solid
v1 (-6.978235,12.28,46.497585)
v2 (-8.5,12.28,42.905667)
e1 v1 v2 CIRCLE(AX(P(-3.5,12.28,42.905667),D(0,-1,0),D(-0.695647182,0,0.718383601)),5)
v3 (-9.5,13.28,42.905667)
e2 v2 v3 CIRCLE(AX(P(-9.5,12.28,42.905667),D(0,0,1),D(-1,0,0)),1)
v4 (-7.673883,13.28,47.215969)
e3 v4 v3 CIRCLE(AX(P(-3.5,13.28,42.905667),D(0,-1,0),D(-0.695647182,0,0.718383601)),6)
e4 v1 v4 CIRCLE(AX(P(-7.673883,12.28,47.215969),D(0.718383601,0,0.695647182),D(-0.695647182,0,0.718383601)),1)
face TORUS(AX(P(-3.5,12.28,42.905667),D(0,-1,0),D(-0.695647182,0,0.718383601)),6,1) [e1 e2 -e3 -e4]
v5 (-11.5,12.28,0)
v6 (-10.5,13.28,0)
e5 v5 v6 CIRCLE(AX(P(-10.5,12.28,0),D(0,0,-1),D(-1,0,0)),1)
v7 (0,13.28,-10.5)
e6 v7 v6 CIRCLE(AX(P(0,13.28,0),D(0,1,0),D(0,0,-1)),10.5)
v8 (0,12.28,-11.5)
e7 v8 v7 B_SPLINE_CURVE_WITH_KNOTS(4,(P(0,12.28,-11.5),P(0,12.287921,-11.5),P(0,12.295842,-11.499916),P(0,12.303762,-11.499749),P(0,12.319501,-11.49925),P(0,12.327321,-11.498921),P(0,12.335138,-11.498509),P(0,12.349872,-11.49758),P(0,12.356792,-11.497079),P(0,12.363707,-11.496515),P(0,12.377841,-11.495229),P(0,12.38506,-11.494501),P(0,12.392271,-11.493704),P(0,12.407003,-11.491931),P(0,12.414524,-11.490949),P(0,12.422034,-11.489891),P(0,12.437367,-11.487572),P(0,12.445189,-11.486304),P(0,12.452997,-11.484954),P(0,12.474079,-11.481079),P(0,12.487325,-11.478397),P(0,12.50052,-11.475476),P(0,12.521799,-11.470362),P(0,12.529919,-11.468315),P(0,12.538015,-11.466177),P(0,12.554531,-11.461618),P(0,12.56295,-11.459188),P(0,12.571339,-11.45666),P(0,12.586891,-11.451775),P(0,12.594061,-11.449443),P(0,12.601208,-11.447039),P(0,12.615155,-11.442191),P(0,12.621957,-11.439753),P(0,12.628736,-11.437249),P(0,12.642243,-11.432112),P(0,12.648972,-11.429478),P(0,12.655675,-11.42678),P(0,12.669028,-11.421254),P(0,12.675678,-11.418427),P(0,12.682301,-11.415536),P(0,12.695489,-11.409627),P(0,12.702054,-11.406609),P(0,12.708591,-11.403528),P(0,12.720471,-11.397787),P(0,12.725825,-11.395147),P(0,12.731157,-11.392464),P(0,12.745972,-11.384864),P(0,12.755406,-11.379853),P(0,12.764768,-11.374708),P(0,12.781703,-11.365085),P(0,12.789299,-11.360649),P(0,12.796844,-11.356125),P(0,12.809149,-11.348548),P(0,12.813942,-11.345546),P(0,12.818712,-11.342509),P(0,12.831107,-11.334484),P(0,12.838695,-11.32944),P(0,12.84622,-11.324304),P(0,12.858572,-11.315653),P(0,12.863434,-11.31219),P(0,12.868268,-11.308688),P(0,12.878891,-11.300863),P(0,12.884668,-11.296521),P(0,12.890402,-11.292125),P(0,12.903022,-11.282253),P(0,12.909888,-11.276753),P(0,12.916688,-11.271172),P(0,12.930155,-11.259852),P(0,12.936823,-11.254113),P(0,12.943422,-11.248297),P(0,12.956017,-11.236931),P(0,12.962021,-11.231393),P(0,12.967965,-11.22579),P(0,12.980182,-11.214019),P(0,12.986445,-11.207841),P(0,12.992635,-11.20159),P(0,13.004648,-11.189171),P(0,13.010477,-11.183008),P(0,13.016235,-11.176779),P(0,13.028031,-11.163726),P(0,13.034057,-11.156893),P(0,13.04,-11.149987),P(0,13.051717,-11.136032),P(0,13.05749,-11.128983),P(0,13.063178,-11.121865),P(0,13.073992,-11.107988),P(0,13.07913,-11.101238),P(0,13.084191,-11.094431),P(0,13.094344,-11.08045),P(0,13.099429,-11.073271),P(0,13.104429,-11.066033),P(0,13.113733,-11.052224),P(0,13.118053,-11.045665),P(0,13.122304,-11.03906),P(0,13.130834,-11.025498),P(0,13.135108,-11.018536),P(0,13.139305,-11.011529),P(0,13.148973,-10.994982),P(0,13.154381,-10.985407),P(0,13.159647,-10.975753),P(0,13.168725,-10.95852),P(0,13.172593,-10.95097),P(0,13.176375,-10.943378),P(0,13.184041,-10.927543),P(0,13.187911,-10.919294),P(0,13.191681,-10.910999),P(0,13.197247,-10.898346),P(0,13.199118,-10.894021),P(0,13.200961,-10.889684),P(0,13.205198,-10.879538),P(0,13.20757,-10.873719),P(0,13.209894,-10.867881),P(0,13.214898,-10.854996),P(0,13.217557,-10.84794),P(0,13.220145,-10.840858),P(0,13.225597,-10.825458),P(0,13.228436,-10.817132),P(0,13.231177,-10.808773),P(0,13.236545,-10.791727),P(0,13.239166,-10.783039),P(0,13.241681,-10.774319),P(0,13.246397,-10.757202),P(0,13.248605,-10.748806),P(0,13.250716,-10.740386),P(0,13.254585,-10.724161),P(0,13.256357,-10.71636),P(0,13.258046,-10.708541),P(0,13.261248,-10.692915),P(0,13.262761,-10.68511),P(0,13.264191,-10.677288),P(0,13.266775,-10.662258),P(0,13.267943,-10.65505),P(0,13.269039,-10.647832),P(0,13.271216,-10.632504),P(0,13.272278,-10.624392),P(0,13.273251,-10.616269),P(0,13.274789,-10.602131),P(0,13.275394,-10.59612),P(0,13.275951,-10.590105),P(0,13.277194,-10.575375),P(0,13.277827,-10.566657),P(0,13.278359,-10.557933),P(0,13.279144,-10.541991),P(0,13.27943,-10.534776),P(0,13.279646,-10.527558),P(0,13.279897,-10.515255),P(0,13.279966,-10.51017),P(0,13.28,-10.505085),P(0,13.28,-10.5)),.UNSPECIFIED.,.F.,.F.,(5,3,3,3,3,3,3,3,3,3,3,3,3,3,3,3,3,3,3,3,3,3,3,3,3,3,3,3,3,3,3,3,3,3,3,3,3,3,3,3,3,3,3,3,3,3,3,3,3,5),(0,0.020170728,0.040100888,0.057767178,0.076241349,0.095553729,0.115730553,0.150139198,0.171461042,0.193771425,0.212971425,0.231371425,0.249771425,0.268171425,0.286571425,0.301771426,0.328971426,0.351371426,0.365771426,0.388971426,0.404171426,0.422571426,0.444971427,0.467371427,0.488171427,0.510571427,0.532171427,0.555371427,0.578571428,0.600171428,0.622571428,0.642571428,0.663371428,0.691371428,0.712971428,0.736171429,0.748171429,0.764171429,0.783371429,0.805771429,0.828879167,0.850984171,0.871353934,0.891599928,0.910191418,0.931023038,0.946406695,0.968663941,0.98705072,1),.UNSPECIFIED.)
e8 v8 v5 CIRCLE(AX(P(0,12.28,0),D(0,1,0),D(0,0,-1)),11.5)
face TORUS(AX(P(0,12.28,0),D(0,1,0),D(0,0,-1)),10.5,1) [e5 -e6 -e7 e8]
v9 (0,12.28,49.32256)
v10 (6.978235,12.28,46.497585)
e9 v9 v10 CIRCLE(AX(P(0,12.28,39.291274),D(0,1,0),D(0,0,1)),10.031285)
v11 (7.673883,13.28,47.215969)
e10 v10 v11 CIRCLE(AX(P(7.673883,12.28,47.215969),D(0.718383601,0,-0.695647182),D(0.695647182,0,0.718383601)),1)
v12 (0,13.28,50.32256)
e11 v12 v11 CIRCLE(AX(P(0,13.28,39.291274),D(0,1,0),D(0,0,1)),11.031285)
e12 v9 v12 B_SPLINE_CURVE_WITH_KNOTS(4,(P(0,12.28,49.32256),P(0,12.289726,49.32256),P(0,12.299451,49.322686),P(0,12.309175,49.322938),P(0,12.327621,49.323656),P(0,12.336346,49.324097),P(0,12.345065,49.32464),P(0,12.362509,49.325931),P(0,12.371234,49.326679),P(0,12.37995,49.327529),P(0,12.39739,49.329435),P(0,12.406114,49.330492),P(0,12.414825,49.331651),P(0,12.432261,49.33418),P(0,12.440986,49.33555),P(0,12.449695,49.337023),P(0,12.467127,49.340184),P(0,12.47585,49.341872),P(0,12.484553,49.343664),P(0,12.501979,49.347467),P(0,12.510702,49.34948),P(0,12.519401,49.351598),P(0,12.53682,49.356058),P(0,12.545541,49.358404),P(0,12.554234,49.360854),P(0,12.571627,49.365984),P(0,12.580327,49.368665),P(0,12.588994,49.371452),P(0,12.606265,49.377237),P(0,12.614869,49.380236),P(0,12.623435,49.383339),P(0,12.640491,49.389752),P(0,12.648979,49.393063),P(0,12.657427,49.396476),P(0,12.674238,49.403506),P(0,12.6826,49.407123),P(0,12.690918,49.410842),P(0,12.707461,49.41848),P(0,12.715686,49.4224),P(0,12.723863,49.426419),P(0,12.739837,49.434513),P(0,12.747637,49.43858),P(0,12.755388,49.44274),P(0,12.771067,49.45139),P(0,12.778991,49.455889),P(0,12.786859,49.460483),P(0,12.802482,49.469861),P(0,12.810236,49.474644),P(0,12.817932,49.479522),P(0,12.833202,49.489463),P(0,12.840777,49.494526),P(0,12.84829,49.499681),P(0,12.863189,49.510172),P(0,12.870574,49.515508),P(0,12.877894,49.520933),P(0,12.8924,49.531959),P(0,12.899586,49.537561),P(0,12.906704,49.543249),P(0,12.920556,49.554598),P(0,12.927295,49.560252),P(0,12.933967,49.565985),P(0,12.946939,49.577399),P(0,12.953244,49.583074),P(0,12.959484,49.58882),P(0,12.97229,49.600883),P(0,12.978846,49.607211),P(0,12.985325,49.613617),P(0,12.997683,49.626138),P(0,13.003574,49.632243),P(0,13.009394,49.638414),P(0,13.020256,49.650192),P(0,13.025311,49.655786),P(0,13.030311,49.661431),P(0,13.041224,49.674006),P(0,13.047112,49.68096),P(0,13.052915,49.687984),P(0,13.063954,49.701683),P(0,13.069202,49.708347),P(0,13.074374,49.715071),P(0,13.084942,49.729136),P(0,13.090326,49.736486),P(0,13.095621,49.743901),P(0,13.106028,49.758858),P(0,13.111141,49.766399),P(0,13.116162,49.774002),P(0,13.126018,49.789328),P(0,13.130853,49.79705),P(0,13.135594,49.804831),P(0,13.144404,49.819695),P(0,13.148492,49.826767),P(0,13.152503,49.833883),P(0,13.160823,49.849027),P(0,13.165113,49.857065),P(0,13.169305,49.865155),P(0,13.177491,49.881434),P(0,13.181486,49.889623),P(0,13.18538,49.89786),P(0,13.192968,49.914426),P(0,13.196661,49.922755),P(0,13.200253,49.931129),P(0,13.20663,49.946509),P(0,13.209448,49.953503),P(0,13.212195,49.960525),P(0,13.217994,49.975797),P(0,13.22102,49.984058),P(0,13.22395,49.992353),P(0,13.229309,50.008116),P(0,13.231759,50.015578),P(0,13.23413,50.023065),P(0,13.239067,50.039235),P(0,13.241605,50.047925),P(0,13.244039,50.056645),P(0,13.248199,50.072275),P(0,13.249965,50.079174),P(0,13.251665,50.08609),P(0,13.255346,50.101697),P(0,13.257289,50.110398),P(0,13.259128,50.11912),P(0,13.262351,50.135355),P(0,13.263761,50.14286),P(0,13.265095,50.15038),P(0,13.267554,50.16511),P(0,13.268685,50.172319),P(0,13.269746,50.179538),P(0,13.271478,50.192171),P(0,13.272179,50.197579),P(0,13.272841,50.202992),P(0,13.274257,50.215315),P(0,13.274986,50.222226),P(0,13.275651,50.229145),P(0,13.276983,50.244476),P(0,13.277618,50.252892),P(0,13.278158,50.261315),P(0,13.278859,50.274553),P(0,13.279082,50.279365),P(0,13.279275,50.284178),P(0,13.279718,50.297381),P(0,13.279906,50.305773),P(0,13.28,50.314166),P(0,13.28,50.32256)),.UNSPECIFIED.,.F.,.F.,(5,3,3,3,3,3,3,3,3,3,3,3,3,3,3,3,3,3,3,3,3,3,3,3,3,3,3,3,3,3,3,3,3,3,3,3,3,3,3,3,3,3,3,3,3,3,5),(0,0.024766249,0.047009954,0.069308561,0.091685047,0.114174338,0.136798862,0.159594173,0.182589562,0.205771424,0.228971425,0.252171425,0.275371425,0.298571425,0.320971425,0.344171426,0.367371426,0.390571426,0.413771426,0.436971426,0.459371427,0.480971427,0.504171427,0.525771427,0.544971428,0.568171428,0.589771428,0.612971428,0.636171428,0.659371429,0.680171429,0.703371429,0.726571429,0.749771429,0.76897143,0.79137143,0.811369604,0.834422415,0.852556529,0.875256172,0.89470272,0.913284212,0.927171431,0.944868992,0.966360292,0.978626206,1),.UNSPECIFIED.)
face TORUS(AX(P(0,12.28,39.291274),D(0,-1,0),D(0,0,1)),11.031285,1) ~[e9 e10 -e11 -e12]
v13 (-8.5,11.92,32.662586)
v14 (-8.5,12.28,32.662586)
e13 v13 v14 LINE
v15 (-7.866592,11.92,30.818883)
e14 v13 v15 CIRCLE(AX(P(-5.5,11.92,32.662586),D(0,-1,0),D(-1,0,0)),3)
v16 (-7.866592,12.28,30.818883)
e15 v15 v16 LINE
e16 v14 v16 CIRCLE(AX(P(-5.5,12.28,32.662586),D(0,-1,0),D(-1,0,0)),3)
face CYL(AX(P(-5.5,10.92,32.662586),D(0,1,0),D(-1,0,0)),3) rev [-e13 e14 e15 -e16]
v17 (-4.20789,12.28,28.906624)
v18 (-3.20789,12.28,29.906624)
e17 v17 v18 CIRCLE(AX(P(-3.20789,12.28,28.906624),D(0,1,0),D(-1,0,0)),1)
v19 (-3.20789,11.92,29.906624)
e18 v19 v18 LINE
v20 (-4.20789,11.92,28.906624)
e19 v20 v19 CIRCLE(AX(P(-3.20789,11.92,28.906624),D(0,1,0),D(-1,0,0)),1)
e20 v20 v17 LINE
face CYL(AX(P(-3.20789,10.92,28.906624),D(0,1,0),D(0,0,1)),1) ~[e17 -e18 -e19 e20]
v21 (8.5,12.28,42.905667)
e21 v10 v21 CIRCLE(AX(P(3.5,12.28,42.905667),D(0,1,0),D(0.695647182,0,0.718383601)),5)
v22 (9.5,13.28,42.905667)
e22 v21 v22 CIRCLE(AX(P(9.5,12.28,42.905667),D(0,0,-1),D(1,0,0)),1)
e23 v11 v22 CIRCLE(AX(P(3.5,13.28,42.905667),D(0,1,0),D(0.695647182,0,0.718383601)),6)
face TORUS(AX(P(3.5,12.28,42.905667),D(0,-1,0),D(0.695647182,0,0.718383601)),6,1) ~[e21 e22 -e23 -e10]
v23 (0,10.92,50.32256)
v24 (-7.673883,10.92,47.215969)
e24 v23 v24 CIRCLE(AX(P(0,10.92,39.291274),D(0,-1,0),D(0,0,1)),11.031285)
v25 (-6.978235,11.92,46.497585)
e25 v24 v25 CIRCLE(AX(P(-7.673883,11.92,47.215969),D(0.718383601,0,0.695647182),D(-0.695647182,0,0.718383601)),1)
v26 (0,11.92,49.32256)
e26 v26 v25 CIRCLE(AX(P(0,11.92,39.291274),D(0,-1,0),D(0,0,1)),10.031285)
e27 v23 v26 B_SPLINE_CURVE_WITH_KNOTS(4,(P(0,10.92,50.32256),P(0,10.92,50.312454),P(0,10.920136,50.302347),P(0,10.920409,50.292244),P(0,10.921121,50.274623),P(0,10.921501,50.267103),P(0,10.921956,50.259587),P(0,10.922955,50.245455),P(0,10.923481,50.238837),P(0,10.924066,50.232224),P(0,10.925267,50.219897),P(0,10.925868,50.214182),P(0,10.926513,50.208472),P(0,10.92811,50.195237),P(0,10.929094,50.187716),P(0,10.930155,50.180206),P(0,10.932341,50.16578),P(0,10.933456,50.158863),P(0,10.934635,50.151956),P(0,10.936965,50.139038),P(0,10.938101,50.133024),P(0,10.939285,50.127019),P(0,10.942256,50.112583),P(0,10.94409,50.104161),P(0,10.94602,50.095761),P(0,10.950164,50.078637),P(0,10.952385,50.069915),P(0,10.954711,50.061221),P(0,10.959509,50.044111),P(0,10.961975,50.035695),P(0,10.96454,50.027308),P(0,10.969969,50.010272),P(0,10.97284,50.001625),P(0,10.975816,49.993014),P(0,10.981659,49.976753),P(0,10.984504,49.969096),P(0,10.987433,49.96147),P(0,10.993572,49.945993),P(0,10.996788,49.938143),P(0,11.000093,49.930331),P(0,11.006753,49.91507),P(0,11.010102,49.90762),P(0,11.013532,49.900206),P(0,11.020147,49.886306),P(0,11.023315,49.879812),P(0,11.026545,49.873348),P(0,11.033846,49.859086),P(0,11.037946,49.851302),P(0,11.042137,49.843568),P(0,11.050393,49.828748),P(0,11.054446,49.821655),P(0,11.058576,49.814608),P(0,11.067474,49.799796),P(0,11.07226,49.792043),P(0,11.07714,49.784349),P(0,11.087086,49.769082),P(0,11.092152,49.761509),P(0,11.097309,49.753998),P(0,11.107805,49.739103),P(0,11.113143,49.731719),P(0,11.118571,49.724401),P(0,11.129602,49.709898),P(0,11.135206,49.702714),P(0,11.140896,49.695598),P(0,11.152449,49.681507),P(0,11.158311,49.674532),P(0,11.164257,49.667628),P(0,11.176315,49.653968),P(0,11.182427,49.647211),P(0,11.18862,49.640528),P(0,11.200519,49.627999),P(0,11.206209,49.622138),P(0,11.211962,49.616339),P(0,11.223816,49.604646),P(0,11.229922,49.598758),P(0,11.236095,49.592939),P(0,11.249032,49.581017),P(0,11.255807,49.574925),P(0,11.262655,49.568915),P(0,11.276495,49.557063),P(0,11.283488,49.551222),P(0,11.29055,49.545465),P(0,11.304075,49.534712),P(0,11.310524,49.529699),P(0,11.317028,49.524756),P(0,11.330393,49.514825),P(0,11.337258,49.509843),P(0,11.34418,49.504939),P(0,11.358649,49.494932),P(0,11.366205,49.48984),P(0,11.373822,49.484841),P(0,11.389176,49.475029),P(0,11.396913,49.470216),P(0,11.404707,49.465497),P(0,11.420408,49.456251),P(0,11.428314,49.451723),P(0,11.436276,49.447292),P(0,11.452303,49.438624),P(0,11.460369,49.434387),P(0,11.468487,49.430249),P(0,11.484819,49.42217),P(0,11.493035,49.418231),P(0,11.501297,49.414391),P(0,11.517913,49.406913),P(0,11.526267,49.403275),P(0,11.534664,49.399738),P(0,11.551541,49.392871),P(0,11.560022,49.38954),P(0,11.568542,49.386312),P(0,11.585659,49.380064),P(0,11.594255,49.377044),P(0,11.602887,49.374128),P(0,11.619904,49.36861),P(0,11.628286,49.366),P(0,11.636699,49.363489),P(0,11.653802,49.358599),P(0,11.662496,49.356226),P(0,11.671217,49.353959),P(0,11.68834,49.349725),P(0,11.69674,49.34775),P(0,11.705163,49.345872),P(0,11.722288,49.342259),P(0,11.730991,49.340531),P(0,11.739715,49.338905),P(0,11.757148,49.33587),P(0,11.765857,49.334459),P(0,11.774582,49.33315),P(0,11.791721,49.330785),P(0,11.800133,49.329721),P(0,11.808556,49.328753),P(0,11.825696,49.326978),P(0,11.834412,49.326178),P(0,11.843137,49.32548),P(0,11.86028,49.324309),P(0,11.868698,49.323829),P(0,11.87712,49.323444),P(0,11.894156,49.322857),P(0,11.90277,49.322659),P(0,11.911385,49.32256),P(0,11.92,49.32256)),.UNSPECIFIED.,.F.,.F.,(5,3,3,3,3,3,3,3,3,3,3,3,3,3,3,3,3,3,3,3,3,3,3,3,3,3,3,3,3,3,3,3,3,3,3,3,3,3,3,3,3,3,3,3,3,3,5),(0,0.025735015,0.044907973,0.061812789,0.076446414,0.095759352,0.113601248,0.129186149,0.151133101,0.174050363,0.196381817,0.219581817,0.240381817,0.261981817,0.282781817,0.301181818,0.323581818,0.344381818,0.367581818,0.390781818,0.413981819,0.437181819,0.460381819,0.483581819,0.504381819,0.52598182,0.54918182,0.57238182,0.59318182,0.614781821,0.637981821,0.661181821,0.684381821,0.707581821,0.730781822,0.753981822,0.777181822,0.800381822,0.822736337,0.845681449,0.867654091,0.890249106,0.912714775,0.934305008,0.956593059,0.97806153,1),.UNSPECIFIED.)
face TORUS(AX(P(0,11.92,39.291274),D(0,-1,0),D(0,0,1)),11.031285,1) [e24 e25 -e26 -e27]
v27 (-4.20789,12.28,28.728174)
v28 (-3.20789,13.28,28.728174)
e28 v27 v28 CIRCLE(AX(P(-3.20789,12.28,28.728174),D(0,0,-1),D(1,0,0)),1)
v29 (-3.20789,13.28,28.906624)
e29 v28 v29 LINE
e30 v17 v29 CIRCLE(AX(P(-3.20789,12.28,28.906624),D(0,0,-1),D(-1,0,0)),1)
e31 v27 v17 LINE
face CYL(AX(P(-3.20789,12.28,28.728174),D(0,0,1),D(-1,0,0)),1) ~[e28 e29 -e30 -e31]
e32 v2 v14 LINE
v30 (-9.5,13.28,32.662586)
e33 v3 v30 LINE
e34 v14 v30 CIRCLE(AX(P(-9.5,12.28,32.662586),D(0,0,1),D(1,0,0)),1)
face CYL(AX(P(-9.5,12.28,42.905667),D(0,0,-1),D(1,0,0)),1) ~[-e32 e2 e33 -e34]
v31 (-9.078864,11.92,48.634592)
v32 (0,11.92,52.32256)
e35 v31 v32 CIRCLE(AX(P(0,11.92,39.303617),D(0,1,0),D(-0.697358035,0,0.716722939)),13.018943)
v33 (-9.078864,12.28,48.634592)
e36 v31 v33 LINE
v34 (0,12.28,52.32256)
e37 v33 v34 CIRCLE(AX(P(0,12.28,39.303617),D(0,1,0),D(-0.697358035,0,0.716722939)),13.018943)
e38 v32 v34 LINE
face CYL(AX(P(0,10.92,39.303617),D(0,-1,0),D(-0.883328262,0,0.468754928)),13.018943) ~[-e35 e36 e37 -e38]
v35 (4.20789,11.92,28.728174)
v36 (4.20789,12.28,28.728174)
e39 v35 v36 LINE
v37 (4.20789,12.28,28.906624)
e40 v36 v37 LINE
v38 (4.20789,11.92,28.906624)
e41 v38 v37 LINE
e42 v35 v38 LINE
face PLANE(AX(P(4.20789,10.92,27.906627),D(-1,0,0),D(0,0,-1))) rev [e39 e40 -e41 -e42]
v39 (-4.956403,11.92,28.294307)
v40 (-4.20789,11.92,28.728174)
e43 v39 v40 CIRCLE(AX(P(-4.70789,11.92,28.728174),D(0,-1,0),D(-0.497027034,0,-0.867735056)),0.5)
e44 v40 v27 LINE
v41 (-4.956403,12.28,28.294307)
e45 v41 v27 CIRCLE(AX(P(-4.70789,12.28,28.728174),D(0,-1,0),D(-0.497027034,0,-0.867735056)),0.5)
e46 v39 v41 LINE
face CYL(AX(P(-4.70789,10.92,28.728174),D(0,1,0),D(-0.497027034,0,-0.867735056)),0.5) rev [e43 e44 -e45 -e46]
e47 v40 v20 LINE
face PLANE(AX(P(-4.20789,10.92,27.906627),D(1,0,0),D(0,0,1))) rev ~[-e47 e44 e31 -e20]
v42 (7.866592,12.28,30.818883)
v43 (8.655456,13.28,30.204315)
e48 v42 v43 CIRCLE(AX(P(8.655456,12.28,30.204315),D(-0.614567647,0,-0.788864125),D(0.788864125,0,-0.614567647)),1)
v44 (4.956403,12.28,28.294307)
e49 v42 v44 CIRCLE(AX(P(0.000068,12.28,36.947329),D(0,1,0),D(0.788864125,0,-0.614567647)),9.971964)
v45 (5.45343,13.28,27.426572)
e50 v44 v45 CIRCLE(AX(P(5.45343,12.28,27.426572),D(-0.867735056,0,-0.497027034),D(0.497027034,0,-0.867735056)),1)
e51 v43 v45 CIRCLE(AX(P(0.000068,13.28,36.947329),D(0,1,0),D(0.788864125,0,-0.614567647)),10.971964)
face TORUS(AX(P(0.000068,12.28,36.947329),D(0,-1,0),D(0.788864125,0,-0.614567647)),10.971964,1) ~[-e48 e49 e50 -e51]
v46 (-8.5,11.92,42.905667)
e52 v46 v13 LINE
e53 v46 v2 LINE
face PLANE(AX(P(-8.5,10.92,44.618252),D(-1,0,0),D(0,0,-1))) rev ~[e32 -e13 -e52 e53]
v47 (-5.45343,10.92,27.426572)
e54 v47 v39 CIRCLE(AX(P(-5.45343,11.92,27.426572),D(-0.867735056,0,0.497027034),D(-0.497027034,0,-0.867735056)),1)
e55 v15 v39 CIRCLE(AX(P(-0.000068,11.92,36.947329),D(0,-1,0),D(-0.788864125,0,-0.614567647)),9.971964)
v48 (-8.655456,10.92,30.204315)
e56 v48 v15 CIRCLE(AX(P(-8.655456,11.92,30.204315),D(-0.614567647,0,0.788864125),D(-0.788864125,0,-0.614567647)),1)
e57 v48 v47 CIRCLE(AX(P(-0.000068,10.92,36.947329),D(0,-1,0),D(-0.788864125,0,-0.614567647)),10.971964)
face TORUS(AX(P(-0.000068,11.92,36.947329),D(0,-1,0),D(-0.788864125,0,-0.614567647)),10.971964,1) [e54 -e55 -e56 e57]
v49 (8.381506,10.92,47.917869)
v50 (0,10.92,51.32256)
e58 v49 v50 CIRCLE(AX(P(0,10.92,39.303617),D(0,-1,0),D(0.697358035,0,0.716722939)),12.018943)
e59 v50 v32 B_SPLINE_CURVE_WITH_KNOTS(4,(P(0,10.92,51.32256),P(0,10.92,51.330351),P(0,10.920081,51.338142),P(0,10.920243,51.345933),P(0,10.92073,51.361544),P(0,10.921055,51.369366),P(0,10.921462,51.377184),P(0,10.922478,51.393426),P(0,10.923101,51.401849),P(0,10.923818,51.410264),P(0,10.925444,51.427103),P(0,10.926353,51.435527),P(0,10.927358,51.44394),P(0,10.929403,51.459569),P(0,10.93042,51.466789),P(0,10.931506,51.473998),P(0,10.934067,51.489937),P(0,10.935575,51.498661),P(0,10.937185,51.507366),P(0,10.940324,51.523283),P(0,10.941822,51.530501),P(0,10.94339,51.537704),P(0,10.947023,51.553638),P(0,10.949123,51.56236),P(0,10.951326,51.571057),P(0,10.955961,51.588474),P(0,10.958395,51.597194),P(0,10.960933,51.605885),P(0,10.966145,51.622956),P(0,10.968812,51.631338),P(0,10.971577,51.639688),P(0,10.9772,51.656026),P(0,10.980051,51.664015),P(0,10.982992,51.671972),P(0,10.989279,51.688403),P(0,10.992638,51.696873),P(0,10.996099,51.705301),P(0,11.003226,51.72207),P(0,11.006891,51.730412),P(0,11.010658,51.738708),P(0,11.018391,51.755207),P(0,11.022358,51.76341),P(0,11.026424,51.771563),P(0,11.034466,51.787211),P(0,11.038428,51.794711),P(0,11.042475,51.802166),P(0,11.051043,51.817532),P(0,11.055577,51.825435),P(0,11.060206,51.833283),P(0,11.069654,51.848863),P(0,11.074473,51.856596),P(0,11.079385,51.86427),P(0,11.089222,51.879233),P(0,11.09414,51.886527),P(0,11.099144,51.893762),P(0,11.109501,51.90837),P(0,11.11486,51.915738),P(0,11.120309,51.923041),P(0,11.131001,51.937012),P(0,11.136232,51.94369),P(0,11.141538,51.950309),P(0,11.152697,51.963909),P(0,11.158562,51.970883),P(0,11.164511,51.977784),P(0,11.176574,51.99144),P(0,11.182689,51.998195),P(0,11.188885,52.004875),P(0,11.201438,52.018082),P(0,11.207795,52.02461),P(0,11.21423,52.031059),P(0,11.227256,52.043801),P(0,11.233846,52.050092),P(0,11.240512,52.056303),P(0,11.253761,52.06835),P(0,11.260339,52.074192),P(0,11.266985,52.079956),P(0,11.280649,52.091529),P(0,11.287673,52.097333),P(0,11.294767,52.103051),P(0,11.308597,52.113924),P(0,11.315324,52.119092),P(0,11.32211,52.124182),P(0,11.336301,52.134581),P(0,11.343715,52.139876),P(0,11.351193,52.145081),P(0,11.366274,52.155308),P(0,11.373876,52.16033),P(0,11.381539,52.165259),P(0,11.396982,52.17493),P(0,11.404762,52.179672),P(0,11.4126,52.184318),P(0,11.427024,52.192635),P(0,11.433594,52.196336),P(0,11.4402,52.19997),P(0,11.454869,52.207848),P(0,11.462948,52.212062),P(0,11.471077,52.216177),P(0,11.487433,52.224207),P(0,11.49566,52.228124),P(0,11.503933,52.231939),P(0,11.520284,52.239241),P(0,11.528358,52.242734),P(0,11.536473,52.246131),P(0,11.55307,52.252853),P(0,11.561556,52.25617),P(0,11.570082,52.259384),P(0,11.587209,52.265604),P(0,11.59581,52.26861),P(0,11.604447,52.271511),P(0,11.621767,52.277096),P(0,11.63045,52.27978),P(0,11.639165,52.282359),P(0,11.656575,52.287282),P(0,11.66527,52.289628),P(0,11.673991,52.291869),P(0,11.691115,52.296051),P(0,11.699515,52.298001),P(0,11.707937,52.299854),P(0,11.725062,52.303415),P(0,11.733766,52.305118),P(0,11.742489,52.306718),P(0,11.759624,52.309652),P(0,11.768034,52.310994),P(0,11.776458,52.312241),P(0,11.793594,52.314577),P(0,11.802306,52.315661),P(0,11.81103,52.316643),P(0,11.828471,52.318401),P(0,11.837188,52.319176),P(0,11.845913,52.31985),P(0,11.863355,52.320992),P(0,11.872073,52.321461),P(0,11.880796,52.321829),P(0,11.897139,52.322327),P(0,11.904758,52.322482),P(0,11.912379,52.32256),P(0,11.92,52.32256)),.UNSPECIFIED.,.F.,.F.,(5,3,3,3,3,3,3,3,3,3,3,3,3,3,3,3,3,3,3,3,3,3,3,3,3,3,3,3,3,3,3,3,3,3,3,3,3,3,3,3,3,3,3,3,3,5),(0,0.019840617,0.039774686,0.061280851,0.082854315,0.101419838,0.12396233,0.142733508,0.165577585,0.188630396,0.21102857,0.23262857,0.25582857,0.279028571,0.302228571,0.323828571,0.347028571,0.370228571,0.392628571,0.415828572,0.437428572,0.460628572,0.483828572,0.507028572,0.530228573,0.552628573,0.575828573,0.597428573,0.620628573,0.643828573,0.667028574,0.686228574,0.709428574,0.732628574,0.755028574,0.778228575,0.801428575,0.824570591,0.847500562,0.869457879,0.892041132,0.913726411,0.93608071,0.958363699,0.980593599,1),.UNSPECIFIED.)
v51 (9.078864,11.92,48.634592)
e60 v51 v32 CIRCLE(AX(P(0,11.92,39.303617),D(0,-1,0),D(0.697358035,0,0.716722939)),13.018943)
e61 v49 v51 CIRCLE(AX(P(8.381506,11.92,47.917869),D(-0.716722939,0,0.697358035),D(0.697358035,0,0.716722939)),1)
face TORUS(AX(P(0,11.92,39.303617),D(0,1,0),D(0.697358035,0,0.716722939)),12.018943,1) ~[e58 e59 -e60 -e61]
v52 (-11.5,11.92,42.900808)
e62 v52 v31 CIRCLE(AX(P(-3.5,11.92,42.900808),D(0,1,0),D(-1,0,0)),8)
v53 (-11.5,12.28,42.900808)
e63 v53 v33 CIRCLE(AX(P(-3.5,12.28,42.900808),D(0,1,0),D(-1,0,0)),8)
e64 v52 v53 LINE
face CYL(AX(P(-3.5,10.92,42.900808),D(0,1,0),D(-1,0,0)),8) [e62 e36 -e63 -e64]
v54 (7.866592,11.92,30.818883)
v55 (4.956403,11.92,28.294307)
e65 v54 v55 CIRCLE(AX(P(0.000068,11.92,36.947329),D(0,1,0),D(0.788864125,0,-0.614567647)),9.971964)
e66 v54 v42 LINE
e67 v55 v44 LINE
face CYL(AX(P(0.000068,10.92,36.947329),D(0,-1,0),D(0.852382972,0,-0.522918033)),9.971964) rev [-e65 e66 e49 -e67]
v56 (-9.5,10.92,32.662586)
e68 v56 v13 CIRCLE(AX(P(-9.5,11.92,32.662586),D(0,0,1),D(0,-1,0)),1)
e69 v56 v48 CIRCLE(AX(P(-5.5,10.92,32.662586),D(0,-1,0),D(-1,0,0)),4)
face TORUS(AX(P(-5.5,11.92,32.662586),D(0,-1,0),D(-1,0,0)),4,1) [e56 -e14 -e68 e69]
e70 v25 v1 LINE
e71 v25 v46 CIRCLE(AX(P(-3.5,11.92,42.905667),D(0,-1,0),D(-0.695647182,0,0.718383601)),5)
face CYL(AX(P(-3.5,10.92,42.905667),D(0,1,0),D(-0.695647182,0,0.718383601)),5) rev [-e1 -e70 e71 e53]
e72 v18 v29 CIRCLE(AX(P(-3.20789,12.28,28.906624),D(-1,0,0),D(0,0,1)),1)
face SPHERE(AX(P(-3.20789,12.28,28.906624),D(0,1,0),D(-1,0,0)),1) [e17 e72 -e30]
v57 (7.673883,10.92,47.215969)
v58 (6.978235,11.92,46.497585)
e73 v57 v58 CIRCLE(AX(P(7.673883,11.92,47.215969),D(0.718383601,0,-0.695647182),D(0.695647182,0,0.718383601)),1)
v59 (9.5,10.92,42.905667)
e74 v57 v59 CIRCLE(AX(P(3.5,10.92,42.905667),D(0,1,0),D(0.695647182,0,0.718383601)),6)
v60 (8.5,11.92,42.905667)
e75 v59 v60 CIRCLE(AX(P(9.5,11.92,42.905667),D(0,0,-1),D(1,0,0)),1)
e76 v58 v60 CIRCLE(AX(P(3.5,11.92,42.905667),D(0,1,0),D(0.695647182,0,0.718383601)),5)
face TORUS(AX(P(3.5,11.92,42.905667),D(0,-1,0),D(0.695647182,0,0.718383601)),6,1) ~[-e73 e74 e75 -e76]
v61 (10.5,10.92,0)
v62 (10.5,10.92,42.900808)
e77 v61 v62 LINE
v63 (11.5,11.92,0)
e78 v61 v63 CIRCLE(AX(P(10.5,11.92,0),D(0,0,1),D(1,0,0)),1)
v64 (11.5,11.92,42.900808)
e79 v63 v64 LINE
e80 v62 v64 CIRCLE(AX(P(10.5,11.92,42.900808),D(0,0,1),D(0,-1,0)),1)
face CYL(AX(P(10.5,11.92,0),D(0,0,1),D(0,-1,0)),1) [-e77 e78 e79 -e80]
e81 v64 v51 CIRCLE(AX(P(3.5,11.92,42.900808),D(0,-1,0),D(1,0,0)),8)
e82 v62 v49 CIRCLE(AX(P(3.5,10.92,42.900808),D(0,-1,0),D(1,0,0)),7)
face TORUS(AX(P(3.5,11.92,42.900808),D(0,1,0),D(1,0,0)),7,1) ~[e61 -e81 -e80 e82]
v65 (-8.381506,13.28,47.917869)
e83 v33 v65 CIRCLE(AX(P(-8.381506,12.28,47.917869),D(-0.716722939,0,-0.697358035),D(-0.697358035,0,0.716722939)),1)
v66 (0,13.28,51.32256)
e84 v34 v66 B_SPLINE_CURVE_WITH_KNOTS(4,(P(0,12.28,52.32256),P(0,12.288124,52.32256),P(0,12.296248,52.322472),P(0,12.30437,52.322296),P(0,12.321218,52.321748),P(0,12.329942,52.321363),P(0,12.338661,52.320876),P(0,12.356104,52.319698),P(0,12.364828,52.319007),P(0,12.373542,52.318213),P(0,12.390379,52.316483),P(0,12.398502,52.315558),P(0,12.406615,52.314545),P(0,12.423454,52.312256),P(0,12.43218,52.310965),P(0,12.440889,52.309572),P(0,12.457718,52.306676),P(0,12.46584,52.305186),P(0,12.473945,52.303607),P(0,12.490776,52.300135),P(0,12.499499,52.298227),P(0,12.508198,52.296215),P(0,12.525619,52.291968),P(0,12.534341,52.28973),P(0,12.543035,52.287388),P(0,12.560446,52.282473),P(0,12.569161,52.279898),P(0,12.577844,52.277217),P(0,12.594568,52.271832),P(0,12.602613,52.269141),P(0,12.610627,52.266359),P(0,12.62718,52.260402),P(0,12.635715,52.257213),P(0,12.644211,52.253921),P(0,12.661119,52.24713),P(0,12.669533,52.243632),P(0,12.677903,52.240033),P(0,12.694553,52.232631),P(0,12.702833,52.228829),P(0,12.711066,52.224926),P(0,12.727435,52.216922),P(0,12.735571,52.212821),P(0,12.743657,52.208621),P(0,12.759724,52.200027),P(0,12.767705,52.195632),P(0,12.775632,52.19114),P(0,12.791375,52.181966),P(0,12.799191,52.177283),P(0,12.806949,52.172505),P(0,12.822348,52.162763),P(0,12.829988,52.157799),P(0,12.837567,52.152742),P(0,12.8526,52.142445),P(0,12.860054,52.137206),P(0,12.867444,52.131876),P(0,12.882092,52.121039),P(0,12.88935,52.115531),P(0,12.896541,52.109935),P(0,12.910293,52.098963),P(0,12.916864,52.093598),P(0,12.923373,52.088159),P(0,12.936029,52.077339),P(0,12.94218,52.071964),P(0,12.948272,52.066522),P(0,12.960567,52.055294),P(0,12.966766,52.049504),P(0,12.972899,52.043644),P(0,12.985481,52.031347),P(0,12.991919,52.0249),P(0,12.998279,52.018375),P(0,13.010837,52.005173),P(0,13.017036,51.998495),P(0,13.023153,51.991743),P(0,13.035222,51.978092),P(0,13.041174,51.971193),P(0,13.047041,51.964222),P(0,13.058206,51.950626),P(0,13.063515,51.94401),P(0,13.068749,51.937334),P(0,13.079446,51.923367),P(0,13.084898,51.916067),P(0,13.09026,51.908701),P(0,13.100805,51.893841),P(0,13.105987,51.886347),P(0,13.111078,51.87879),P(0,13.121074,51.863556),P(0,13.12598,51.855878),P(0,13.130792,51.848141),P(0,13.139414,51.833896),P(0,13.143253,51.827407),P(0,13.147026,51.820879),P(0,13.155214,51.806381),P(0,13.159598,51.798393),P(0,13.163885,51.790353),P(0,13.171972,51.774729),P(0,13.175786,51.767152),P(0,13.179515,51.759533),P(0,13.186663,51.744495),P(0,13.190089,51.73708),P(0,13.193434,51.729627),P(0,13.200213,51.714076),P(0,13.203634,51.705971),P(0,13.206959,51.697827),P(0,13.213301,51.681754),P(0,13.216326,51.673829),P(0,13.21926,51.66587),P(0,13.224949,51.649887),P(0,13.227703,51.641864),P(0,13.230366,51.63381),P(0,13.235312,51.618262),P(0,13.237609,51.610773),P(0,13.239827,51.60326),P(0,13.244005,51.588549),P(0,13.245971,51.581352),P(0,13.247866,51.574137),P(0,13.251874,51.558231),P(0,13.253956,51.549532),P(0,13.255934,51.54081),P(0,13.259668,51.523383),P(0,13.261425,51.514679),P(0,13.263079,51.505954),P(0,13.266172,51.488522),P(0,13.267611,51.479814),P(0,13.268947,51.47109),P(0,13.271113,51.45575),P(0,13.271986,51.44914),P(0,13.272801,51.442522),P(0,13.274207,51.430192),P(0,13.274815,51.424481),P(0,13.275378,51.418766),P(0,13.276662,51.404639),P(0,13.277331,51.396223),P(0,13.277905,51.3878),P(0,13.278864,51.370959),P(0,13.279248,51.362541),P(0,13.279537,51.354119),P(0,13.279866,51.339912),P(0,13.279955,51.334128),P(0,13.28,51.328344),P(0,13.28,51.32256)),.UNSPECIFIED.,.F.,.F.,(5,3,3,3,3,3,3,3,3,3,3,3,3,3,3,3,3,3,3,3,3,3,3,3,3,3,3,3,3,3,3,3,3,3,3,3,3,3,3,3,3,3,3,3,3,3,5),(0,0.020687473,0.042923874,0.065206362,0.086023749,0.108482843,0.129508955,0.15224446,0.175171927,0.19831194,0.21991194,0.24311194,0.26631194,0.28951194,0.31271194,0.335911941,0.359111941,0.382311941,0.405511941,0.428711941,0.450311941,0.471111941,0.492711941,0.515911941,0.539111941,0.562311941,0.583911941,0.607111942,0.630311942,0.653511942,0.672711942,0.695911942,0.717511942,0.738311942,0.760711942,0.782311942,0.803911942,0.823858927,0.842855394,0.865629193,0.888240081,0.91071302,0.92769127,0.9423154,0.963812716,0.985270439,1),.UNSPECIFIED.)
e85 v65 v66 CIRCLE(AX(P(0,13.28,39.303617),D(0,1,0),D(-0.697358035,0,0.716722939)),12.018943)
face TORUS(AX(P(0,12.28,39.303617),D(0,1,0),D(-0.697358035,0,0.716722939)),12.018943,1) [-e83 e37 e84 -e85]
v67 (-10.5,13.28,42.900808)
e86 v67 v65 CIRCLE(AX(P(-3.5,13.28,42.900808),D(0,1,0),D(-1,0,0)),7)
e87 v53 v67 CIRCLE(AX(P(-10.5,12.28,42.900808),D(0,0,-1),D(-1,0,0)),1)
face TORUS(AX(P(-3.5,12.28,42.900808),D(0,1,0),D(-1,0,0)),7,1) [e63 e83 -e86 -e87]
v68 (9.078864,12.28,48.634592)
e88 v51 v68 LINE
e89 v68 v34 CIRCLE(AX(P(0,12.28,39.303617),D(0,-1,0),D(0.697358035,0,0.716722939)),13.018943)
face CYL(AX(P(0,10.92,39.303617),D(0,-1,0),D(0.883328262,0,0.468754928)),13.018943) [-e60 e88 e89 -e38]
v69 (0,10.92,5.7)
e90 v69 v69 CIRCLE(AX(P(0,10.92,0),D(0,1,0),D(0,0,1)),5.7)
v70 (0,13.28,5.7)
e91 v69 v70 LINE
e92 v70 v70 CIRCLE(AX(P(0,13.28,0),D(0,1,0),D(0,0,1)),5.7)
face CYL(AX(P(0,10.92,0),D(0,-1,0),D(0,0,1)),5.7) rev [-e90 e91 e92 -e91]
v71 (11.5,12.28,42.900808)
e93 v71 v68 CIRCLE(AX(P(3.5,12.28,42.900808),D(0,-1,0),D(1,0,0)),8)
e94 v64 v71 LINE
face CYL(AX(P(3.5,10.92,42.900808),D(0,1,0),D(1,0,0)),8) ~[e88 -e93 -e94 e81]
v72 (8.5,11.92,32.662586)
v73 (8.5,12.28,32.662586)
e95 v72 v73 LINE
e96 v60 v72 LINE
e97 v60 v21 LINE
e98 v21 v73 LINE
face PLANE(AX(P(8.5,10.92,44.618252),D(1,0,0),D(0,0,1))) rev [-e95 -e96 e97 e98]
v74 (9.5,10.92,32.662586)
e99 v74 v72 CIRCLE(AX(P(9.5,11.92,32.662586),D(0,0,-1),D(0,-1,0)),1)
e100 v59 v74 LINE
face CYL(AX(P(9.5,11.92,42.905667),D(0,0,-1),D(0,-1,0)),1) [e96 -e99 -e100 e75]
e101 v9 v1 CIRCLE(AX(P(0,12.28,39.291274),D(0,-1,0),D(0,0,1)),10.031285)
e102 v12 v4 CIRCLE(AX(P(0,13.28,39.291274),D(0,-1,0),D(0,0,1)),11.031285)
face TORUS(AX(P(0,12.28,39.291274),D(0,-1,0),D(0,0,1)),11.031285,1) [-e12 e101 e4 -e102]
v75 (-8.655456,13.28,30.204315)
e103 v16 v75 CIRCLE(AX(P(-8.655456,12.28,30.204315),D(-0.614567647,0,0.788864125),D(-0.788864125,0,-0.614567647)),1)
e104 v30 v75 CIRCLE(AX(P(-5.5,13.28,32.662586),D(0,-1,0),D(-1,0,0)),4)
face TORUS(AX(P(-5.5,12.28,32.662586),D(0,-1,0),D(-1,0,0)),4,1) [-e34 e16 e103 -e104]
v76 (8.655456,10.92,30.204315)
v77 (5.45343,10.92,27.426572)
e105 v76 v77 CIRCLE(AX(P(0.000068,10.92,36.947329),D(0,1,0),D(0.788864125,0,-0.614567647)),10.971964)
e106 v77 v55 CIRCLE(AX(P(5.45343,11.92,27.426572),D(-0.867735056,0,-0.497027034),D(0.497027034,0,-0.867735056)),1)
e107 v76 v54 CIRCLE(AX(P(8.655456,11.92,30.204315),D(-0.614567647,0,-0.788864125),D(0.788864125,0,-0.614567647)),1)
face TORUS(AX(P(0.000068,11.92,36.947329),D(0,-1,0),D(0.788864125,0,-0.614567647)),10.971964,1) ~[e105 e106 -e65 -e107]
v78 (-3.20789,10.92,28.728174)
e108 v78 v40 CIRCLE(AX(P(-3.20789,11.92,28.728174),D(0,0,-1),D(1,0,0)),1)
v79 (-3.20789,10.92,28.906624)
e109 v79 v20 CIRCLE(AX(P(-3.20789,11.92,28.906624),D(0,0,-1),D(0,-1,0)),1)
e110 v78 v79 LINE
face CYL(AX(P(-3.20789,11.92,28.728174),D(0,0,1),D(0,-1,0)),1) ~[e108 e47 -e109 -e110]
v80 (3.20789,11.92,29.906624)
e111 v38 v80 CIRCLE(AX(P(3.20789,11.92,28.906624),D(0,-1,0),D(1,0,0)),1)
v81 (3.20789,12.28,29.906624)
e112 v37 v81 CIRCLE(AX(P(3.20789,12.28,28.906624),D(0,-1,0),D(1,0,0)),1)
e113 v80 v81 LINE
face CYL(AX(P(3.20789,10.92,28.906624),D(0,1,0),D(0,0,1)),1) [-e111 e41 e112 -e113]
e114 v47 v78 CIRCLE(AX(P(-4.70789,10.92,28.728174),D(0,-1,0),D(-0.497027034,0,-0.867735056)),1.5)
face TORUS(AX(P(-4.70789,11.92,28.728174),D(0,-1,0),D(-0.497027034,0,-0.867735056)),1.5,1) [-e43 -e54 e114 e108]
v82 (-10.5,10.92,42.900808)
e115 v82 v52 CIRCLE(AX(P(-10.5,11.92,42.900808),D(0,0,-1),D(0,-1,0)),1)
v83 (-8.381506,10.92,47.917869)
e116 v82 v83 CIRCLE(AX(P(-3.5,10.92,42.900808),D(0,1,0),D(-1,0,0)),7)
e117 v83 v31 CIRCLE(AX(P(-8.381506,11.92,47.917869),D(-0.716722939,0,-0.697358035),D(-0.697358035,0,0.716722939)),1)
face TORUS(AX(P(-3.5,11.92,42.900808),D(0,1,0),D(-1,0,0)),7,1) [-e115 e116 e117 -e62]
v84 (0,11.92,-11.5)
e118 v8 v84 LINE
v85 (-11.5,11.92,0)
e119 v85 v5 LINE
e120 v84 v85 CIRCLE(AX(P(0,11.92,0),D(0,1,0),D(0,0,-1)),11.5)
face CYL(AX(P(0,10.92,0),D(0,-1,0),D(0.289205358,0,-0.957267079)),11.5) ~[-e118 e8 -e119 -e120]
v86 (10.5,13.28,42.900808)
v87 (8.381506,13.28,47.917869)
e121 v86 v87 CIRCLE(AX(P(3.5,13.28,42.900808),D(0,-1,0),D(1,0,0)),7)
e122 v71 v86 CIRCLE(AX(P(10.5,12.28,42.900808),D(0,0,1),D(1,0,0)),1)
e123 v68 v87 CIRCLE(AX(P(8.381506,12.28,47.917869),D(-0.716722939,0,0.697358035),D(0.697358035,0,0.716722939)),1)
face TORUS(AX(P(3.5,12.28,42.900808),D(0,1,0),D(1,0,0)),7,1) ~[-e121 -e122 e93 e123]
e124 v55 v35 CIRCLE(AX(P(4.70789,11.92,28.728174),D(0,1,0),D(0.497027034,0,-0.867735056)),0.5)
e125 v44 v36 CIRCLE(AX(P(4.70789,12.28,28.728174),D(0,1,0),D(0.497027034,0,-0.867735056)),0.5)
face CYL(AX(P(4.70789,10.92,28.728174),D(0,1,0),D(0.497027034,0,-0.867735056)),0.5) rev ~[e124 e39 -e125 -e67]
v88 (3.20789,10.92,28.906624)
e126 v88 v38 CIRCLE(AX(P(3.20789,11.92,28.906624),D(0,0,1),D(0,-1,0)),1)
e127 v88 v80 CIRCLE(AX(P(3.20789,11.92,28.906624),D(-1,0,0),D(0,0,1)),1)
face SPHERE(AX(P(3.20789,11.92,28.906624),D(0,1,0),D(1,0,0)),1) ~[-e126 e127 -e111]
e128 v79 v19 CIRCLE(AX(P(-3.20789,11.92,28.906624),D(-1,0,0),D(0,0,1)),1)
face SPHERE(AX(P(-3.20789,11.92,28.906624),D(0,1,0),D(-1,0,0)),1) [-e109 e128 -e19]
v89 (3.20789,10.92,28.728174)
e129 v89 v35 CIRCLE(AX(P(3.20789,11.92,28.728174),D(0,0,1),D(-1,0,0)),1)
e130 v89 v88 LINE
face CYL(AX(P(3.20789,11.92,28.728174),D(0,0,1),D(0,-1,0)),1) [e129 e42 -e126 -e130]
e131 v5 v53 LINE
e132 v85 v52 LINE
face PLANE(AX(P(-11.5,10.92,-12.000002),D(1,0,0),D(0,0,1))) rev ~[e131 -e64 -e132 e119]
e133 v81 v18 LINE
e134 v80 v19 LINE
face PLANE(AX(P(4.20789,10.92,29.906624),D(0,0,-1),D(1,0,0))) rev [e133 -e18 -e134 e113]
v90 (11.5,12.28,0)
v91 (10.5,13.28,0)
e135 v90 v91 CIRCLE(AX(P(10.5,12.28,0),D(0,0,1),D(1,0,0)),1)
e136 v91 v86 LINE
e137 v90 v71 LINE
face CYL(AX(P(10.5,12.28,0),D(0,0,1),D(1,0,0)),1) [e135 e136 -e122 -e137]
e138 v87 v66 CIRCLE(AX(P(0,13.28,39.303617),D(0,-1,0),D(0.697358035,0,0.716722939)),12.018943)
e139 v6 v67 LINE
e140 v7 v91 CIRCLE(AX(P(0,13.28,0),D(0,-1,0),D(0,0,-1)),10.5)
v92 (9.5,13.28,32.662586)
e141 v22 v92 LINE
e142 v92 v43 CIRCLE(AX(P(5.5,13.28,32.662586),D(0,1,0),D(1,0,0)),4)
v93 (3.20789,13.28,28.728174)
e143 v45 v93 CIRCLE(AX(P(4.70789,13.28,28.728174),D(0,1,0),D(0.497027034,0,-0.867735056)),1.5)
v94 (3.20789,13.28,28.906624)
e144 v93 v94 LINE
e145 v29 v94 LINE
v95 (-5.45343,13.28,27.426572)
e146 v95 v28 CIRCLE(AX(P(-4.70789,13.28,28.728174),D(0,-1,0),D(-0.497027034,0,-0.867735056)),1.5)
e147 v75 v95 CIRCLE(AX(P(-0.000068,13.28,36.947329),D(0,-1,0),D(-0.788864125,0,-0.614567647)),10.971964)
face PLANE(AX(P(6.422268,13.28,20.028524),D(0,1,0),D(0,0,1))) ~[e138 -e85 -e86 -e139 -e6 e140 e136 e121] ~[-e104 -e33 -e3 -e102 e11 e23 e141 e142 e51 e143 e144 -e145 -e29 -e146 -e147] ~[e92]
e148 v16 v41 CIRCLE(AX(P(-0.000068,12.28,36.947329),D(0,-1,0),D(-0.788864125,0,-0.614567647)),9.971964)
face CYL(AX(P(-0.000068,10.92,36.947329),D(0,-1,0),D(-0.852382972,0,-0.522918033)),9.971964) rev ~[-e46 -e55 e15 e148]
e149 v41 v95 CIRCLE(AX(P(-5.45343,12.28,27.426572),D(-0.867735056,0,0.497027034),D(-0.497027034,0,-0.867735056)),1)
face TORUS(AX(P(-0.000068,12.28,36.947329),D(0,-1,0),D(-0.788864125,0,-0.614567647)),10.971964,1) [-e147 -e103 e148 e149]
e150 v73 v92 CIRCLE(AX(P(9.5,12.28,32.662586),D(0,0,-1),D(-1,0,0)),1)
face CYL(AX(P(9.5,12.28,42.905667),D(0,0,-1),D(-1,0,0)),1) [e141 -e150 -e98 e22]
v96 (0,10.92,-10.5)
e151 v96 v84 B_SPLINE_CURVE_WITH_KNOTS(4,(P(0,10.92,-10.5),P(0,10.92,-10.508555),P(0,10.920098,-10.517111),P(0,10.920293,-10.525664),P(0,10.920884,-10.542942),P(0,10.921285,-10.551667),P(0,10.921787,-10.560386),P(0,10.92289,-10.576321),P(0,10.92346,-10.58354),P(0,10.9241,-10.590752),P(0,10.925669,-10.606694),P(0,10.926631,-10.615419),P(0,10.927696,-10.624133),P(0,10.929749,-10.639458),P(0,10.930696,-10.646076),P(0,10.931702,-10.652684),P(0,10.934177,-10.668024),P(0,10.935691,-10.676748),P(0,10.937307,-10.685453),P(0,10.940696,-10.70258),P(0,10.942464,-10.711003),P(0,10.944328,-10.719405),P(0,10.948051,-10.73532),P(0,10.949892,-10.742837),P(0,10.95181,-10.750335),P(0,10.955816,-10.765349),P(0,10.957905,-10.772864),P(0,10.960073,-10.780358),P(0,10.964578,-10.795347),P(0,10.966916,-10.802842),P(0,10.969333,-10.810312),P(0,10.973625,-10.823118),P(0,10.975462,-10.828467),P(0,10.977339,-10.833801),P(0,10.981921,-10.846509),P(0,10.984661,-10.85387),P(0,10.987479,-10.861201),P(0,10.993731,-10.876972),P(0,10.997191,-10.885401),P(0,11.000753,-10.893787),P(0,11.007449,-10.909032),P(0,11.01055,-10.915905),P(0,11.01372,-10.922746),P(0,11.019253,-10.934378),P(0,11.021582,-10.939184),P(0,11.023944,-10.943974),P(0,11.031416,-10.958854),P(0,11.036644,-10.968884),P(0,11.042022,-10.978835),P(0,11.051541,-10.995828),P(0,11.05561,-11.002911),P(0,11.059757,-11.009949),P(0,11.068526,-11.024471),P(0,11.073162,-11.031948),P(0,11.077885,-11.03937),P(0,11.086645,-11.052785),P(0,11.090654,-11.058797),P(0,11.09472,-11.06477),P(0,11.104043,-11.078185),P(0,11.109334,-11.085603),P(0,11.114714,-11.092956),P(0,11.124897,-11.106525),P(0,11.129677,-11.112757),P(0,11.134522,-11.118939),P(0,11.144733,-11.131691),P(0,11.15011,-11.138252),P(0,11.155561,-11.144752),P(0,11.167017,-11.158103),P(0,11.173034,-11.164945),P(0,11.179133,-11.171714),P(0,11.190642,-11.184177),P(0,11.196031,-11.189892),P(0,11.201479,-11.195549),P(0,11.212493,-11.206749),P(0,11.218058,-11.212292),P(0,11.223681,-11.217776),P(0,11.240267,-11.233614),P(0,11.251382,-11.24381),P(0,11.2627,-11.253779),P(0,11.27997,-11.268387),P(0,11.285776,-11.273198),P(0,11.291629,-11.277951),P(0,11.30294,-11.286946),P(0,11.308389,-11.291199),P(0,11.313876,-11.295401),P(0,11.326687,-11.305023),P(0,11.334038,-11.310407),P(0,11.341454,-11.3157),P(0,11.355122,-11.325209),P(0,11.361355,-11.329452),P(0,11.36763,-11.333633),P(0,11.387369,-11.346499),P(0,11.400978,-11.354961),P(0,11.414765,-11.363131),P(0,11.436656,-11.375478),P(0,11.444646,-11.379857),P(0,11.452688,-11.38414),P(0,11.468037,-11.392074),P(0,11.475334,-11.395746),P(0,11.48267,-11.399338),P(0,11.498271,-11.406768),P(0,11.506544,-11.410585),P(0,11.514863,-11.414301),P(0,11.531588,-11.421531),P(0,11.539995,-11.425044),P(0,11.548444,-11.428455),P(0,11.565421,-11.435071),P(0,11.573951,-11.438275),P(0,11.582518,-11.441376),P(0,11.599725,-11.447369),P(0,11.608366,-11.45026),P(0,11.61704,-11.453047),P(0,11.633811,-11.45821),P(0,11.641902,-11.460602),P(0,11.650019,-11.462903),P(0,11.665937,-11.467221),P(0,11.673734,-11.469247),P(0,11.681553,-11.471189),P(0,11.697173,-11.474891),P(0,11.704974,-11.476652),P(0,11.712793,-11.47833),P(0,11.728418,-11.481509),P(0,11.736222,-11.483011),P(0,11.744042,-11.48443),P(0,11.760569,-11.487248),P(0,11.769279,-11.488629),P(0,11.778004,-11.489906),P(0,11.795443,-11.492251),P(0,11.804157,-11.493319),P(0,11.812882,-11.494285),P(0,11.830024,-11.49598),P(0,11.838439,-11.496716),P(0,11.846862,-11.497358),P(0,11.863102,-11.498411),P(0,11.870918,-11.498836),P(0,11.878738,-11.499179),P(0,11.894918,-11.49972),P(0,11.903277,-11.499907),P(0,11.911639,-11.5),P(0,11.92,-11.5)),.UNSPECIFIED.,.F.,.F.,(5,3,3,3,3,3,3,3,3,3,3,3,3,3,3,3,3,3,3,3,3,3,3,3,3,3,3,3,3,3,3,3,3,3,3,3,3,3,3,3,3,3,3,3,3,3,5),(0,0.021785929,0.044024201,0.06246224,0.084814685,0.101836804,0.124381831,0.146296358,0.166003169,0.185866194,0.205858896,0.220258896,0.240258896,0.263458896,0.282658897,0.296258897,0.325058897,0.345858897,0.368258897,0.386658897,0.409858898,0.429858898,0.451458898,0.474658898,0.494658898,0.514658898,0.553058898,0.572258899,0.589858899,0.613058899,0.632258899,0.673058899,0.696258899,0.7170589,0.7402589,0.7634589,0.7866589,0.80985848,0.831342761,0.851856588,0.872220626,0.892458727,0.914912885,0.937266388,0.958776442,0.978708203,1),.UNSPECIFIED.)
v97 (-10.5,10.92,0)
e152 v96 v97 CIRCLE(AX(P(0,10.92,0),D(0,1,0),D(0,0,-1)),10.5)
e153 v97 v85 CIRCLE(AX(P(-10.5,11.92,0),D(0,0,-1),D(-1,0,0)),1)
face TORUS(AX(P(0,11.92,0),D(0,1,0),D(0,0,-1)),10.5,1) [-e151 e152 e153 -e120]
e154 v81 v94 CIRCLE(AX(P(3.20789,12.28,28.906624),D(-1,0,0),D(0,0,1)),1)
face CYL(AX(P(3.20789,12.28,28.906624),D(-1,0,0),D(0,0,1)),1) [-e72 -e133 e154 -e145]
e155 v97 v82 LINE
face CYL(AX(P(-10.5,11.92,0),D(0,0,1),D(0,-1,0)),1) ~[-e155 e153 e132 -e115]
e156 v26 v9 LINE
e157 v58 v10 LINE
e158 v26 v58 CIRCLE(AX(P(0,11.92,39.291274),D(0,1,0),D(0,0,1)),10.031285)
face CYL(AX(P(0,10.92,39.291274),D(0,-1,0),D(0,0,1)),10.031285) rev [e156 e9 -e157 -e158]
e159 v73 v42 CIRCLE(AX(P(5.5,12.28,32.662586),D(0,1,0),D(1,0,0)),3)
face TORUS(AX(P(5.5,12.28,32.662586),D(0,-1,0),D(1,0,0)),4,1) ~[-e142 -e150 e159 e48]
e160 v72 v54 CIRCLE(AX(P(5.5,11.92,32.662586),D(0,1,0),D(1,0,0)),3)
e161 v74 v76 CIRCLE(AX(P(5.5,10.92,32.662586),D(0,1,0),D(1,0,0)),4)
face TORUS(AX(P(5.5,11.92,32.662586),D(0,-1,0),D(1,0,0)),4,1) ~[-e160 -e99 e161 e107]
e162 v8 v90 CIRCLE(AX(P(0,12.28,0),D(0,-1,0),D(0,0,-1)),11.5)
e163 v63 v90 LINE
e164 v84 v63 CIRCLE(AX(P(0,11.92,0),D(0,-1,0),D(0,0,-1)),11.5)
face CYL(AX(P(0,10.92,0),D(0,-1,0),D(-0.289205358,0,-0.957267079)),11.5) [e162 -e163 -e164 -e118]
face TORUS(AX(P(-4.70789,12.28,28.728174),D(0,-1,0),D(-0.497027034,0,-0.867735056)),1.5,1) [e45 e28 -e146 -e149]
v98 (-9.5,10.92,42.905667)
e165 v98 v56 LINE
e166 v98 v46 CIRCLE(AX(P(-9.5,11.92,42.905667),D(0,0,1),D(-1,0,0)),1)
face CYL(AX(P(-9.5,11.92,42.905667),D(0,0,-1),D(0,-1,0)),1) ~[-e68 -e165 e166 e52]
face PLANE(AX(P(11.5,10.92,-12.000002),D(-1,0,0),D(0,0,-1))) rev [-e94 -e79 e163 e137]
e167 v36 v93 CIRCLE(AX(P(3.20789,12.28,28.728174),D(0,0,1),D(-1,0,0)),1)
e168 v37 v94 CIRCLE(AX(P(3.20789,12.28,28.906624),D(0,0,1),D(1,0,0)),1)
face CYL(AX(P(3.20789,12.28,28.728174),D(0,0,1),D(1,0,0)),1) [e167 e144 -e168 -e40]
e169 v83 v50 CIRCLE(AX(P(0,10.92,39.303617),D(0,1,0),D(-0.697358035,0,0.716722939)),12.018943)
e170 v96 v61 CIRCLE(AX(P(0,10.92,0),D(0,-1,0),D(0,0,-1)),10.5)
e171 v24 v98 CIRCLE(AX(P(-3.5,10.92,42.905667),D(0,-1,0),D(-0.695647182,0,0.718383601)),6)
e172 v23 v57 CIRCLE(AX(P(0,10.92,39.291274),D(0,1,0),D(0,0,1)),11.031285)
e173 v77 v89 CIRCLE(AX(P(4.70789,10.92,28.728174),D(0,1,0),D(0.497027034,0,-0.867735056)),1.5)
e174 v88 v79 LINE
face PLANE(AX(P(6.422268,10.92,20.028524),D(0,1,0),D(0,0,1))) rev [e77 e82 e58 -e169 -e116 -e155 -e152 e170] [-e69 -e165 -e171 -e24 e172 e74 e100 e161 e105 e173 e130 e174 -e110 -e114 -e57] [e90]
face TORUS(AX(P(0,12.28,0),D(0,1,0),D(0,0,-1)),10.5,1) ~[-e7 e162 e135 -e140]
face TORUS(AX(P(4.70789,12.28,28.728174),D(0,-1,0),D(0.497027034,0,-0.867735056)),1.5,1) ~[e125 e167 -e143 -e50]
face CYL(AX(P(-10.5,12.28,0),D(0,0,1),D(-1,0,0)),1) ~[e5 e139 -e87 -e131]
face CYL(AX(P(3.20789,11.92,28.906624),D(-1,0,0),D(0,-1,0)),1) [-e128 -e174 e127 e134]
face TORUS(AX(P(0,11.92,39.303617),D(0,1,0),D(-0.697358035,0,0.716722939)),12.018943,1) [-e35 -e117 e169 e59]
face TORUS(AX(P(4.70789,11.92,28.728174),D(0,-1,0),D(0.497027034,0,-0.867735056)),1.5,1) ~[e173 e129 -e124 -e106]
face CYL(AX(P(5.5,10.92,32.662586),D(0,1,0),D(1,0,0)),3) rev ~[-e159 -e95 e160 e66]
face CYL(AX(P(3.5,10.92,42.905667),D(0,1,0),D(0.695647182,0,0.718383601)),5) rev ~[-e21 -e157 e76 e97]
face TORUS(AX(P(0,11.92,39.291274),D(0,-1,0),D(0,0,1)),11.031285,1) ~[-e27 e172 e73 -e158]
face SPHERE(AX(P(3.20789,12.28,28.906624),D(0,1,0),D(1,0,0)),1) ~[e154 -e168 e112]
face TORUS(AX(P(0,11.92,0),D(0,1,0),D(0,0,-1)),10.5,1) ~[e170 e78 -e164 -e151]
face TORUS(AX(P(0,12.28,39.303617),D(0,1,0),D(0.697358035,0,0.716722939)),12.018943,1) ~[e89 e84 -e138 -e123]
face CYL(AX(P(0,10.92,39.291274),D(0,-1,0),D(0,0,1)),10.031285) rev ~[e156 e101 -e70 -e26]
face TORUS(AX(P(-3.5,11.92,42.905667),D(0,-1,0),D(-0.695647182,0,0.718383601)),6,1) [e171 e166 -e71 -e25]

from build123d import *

# Parameters (mm, degrees)
BOSS_EXTRUDE1_DEPTH = 2.36
CUT_EXTRUDE1_DEPTH  = 10
FILLET1_R           = 1
FILLET2_R           = 8
FILLET3_R           = 5
FILLET4_R           = 3
FILLET5_R           = 0.5
FILLET6_R           = 1
FILLET7_R           = 1


with BuildPart() as part:
    # Sketch3 → Boss-Extrude1 (new body)
    with BuildSketch(Plane(origin=(0, 10.92, 0), x_dir=(0, 0, 1), z_dir=(0, -1, 0))):
        with BuildLine():
            Line((-5.7, 0), (-12.000001825, 0))
            Line((-12.000001825, 0), (-12.000001825, 11.5))
            Line((-12.000001825, 11.5), (45.406310527, 11.5))
            ThreePointArc((45.406310527, 11.5), (50.46030749, 6.709778353), (52.322559669, 0))
            Line((52.322559669, 0), (49.322559669, 0))
            ThreePointArc((49.322559669, 0), (48.068036881, 4.857481326), (44.618252316, 8.499999508))
            Line((44.618252316, 8.499999508), (31.732809444, 8.499999508))
            ThreePointArc((31.732809444, 8.499999508), (29.503647996, 6.63570395), (27.906627074, 4.207889529))
            Line((27.906627074, 4.207889529), (29.906623676, 4.207889529))
            Line((29.906623676, 4.207889529), (29.906623676, 0))
            Line((29.906623676, 0), (5.7, 0))
            ThreePointArc((5.7, 0), (0, 5.7), (-5.7, 0))
        make_face()
    extrude(amount=-BOSS_EXTRUDE1_DEPTH)

    # Sketch5 → Cut-Extrude1 (cut)
    with BuildSketch(Plane(origin=(0, 10.92, 0), x_dir=(0, 0, 1), z_dir=(0, -1, 0))):
        with BuildLine():
            Line((0, 11.5), (0, 20.081542109))
            Line((0, 20.081542109), (-17.206571574, 20.081542109))
            Line((-17.206571574, 20.081542109), (-17.206571574, -3.325861619))
            Line((-17.206571574, -3.325861619), (-11.00857141, -3.325861619))
            ThreePointArc((-11.00857141, -3.325861619), (-9.23302249, 6.855749098), (0, 11.5))
        make_face()
    extrude(amount=-CUT_EXTRUDE1_DEPTH, mode=Mode.SUBTRACT)

    # Fillet1
    fillet1_edges = [part.edges().sort_by_distance(p)[0] for p in [
        (-4.207889529, 12.1, 29.906623676),
    ]]
    fillet(fillet1_edges, radius=FILLET1_R)

    # Fillet2
    fillet2_edges = [part.edges().sort_by_distance(p)[0] for p in [
        (-11.5, 12.1, 45.406310527),
    ]]
    fillet(fillet2_edges, radius=FILLET2_R)

    # Fillet3
    fillet3_edges = [part.edges().sort_by_distance(p)[0] for p in [
        (-8.499999508, 12.1, 44.618252316),
    ]]
    fillet(fillet3_edges, radius=FILLET3_R)

    # Fillet4
    fillet4_edges = [part.edges().sort_by_distance(p)[0] for p in [
        (-8.499999508, 12.1, 31.732809444),
    ]]
    fillet(fillet4_edges, radius=FILLET4_R)

    # Fillet5
    fillet5_edges = [part.edges().sort_by_distance(p)[0] for p in [
        (-4.207889529, 12.1, 27.906627074),
    ]]
    fillet(fillet5_edges, radius=FILLET5_R)

    # Fillet6
    fillet6_edges = [part.edges().sort_by_distance(p)[0] for p in [
        (-4.899665378, 10.92, 51.36538086),
        (-8.131727984, 10.92, -8.131727984),
        (-4.899665378, 13.28, 51.36538086),
        (-8.131727984, 13.28, -8.131727984),
        (-11.5, 10.92, 21.45040417),
        (-10.869902111, 10.92, 46.012808159),
        (-11.5, 13.28, 21.45040417),
        (-10.869902111, 13.28, 46.012808159),
    ]]
    fillet(fillet6_edges, radius=FILLET6_R)

    # Fillet7
    fillet7_edges = [part.edges().sort_by_distance(p)[0] for p in [
        (-1.603944764, 13.28, 29.906623676),
        (-1.603944764, 10.92, 29.906623676),
        (-4.207889529, 10.92, 28.817398931),
        (-3.91499631, 10.92, 29.613730457),
        (-4.207889529, 13.28, 28.817398931),
        (-3.91499631, 13.28, 29.613730457),
        (-3.764181528, 10.92, 48.589533472),
        (-3.764181528, 13.28, 48.589533472),
        (-8.103866337, 10.92, 44.856156934),
        (-8.103866337, 13.28, 44.856156934),
        (-8.499999508, 13.28, 37.784126486),
        (-8.499999508, 10.92, 37.784126486),
        (-8.337232062, 10.92, 31.68784918),
        (-8.337232062, 13.28, 31.68784918),
        (-6.534576313, 13.28, 29.414716402),
        (-6.534576313, 10.92, 29.414716402),
        (-4.457147388, 10.92, 28.295590808),
        (-4.457147388, 13.28, 28.295590808),
    ]]
    fillet(fillet7_edges, radius=FILLET7_R)

    # Mirror1: part across plane


with BuildPart() as part_1:
    add(part.part)
    add(part.part.mirror(Plane(origin=(0, 0, 0), x_dir=(0, 0, 1), z_dir=(1, 0, 0))))


solid = part_1.part
